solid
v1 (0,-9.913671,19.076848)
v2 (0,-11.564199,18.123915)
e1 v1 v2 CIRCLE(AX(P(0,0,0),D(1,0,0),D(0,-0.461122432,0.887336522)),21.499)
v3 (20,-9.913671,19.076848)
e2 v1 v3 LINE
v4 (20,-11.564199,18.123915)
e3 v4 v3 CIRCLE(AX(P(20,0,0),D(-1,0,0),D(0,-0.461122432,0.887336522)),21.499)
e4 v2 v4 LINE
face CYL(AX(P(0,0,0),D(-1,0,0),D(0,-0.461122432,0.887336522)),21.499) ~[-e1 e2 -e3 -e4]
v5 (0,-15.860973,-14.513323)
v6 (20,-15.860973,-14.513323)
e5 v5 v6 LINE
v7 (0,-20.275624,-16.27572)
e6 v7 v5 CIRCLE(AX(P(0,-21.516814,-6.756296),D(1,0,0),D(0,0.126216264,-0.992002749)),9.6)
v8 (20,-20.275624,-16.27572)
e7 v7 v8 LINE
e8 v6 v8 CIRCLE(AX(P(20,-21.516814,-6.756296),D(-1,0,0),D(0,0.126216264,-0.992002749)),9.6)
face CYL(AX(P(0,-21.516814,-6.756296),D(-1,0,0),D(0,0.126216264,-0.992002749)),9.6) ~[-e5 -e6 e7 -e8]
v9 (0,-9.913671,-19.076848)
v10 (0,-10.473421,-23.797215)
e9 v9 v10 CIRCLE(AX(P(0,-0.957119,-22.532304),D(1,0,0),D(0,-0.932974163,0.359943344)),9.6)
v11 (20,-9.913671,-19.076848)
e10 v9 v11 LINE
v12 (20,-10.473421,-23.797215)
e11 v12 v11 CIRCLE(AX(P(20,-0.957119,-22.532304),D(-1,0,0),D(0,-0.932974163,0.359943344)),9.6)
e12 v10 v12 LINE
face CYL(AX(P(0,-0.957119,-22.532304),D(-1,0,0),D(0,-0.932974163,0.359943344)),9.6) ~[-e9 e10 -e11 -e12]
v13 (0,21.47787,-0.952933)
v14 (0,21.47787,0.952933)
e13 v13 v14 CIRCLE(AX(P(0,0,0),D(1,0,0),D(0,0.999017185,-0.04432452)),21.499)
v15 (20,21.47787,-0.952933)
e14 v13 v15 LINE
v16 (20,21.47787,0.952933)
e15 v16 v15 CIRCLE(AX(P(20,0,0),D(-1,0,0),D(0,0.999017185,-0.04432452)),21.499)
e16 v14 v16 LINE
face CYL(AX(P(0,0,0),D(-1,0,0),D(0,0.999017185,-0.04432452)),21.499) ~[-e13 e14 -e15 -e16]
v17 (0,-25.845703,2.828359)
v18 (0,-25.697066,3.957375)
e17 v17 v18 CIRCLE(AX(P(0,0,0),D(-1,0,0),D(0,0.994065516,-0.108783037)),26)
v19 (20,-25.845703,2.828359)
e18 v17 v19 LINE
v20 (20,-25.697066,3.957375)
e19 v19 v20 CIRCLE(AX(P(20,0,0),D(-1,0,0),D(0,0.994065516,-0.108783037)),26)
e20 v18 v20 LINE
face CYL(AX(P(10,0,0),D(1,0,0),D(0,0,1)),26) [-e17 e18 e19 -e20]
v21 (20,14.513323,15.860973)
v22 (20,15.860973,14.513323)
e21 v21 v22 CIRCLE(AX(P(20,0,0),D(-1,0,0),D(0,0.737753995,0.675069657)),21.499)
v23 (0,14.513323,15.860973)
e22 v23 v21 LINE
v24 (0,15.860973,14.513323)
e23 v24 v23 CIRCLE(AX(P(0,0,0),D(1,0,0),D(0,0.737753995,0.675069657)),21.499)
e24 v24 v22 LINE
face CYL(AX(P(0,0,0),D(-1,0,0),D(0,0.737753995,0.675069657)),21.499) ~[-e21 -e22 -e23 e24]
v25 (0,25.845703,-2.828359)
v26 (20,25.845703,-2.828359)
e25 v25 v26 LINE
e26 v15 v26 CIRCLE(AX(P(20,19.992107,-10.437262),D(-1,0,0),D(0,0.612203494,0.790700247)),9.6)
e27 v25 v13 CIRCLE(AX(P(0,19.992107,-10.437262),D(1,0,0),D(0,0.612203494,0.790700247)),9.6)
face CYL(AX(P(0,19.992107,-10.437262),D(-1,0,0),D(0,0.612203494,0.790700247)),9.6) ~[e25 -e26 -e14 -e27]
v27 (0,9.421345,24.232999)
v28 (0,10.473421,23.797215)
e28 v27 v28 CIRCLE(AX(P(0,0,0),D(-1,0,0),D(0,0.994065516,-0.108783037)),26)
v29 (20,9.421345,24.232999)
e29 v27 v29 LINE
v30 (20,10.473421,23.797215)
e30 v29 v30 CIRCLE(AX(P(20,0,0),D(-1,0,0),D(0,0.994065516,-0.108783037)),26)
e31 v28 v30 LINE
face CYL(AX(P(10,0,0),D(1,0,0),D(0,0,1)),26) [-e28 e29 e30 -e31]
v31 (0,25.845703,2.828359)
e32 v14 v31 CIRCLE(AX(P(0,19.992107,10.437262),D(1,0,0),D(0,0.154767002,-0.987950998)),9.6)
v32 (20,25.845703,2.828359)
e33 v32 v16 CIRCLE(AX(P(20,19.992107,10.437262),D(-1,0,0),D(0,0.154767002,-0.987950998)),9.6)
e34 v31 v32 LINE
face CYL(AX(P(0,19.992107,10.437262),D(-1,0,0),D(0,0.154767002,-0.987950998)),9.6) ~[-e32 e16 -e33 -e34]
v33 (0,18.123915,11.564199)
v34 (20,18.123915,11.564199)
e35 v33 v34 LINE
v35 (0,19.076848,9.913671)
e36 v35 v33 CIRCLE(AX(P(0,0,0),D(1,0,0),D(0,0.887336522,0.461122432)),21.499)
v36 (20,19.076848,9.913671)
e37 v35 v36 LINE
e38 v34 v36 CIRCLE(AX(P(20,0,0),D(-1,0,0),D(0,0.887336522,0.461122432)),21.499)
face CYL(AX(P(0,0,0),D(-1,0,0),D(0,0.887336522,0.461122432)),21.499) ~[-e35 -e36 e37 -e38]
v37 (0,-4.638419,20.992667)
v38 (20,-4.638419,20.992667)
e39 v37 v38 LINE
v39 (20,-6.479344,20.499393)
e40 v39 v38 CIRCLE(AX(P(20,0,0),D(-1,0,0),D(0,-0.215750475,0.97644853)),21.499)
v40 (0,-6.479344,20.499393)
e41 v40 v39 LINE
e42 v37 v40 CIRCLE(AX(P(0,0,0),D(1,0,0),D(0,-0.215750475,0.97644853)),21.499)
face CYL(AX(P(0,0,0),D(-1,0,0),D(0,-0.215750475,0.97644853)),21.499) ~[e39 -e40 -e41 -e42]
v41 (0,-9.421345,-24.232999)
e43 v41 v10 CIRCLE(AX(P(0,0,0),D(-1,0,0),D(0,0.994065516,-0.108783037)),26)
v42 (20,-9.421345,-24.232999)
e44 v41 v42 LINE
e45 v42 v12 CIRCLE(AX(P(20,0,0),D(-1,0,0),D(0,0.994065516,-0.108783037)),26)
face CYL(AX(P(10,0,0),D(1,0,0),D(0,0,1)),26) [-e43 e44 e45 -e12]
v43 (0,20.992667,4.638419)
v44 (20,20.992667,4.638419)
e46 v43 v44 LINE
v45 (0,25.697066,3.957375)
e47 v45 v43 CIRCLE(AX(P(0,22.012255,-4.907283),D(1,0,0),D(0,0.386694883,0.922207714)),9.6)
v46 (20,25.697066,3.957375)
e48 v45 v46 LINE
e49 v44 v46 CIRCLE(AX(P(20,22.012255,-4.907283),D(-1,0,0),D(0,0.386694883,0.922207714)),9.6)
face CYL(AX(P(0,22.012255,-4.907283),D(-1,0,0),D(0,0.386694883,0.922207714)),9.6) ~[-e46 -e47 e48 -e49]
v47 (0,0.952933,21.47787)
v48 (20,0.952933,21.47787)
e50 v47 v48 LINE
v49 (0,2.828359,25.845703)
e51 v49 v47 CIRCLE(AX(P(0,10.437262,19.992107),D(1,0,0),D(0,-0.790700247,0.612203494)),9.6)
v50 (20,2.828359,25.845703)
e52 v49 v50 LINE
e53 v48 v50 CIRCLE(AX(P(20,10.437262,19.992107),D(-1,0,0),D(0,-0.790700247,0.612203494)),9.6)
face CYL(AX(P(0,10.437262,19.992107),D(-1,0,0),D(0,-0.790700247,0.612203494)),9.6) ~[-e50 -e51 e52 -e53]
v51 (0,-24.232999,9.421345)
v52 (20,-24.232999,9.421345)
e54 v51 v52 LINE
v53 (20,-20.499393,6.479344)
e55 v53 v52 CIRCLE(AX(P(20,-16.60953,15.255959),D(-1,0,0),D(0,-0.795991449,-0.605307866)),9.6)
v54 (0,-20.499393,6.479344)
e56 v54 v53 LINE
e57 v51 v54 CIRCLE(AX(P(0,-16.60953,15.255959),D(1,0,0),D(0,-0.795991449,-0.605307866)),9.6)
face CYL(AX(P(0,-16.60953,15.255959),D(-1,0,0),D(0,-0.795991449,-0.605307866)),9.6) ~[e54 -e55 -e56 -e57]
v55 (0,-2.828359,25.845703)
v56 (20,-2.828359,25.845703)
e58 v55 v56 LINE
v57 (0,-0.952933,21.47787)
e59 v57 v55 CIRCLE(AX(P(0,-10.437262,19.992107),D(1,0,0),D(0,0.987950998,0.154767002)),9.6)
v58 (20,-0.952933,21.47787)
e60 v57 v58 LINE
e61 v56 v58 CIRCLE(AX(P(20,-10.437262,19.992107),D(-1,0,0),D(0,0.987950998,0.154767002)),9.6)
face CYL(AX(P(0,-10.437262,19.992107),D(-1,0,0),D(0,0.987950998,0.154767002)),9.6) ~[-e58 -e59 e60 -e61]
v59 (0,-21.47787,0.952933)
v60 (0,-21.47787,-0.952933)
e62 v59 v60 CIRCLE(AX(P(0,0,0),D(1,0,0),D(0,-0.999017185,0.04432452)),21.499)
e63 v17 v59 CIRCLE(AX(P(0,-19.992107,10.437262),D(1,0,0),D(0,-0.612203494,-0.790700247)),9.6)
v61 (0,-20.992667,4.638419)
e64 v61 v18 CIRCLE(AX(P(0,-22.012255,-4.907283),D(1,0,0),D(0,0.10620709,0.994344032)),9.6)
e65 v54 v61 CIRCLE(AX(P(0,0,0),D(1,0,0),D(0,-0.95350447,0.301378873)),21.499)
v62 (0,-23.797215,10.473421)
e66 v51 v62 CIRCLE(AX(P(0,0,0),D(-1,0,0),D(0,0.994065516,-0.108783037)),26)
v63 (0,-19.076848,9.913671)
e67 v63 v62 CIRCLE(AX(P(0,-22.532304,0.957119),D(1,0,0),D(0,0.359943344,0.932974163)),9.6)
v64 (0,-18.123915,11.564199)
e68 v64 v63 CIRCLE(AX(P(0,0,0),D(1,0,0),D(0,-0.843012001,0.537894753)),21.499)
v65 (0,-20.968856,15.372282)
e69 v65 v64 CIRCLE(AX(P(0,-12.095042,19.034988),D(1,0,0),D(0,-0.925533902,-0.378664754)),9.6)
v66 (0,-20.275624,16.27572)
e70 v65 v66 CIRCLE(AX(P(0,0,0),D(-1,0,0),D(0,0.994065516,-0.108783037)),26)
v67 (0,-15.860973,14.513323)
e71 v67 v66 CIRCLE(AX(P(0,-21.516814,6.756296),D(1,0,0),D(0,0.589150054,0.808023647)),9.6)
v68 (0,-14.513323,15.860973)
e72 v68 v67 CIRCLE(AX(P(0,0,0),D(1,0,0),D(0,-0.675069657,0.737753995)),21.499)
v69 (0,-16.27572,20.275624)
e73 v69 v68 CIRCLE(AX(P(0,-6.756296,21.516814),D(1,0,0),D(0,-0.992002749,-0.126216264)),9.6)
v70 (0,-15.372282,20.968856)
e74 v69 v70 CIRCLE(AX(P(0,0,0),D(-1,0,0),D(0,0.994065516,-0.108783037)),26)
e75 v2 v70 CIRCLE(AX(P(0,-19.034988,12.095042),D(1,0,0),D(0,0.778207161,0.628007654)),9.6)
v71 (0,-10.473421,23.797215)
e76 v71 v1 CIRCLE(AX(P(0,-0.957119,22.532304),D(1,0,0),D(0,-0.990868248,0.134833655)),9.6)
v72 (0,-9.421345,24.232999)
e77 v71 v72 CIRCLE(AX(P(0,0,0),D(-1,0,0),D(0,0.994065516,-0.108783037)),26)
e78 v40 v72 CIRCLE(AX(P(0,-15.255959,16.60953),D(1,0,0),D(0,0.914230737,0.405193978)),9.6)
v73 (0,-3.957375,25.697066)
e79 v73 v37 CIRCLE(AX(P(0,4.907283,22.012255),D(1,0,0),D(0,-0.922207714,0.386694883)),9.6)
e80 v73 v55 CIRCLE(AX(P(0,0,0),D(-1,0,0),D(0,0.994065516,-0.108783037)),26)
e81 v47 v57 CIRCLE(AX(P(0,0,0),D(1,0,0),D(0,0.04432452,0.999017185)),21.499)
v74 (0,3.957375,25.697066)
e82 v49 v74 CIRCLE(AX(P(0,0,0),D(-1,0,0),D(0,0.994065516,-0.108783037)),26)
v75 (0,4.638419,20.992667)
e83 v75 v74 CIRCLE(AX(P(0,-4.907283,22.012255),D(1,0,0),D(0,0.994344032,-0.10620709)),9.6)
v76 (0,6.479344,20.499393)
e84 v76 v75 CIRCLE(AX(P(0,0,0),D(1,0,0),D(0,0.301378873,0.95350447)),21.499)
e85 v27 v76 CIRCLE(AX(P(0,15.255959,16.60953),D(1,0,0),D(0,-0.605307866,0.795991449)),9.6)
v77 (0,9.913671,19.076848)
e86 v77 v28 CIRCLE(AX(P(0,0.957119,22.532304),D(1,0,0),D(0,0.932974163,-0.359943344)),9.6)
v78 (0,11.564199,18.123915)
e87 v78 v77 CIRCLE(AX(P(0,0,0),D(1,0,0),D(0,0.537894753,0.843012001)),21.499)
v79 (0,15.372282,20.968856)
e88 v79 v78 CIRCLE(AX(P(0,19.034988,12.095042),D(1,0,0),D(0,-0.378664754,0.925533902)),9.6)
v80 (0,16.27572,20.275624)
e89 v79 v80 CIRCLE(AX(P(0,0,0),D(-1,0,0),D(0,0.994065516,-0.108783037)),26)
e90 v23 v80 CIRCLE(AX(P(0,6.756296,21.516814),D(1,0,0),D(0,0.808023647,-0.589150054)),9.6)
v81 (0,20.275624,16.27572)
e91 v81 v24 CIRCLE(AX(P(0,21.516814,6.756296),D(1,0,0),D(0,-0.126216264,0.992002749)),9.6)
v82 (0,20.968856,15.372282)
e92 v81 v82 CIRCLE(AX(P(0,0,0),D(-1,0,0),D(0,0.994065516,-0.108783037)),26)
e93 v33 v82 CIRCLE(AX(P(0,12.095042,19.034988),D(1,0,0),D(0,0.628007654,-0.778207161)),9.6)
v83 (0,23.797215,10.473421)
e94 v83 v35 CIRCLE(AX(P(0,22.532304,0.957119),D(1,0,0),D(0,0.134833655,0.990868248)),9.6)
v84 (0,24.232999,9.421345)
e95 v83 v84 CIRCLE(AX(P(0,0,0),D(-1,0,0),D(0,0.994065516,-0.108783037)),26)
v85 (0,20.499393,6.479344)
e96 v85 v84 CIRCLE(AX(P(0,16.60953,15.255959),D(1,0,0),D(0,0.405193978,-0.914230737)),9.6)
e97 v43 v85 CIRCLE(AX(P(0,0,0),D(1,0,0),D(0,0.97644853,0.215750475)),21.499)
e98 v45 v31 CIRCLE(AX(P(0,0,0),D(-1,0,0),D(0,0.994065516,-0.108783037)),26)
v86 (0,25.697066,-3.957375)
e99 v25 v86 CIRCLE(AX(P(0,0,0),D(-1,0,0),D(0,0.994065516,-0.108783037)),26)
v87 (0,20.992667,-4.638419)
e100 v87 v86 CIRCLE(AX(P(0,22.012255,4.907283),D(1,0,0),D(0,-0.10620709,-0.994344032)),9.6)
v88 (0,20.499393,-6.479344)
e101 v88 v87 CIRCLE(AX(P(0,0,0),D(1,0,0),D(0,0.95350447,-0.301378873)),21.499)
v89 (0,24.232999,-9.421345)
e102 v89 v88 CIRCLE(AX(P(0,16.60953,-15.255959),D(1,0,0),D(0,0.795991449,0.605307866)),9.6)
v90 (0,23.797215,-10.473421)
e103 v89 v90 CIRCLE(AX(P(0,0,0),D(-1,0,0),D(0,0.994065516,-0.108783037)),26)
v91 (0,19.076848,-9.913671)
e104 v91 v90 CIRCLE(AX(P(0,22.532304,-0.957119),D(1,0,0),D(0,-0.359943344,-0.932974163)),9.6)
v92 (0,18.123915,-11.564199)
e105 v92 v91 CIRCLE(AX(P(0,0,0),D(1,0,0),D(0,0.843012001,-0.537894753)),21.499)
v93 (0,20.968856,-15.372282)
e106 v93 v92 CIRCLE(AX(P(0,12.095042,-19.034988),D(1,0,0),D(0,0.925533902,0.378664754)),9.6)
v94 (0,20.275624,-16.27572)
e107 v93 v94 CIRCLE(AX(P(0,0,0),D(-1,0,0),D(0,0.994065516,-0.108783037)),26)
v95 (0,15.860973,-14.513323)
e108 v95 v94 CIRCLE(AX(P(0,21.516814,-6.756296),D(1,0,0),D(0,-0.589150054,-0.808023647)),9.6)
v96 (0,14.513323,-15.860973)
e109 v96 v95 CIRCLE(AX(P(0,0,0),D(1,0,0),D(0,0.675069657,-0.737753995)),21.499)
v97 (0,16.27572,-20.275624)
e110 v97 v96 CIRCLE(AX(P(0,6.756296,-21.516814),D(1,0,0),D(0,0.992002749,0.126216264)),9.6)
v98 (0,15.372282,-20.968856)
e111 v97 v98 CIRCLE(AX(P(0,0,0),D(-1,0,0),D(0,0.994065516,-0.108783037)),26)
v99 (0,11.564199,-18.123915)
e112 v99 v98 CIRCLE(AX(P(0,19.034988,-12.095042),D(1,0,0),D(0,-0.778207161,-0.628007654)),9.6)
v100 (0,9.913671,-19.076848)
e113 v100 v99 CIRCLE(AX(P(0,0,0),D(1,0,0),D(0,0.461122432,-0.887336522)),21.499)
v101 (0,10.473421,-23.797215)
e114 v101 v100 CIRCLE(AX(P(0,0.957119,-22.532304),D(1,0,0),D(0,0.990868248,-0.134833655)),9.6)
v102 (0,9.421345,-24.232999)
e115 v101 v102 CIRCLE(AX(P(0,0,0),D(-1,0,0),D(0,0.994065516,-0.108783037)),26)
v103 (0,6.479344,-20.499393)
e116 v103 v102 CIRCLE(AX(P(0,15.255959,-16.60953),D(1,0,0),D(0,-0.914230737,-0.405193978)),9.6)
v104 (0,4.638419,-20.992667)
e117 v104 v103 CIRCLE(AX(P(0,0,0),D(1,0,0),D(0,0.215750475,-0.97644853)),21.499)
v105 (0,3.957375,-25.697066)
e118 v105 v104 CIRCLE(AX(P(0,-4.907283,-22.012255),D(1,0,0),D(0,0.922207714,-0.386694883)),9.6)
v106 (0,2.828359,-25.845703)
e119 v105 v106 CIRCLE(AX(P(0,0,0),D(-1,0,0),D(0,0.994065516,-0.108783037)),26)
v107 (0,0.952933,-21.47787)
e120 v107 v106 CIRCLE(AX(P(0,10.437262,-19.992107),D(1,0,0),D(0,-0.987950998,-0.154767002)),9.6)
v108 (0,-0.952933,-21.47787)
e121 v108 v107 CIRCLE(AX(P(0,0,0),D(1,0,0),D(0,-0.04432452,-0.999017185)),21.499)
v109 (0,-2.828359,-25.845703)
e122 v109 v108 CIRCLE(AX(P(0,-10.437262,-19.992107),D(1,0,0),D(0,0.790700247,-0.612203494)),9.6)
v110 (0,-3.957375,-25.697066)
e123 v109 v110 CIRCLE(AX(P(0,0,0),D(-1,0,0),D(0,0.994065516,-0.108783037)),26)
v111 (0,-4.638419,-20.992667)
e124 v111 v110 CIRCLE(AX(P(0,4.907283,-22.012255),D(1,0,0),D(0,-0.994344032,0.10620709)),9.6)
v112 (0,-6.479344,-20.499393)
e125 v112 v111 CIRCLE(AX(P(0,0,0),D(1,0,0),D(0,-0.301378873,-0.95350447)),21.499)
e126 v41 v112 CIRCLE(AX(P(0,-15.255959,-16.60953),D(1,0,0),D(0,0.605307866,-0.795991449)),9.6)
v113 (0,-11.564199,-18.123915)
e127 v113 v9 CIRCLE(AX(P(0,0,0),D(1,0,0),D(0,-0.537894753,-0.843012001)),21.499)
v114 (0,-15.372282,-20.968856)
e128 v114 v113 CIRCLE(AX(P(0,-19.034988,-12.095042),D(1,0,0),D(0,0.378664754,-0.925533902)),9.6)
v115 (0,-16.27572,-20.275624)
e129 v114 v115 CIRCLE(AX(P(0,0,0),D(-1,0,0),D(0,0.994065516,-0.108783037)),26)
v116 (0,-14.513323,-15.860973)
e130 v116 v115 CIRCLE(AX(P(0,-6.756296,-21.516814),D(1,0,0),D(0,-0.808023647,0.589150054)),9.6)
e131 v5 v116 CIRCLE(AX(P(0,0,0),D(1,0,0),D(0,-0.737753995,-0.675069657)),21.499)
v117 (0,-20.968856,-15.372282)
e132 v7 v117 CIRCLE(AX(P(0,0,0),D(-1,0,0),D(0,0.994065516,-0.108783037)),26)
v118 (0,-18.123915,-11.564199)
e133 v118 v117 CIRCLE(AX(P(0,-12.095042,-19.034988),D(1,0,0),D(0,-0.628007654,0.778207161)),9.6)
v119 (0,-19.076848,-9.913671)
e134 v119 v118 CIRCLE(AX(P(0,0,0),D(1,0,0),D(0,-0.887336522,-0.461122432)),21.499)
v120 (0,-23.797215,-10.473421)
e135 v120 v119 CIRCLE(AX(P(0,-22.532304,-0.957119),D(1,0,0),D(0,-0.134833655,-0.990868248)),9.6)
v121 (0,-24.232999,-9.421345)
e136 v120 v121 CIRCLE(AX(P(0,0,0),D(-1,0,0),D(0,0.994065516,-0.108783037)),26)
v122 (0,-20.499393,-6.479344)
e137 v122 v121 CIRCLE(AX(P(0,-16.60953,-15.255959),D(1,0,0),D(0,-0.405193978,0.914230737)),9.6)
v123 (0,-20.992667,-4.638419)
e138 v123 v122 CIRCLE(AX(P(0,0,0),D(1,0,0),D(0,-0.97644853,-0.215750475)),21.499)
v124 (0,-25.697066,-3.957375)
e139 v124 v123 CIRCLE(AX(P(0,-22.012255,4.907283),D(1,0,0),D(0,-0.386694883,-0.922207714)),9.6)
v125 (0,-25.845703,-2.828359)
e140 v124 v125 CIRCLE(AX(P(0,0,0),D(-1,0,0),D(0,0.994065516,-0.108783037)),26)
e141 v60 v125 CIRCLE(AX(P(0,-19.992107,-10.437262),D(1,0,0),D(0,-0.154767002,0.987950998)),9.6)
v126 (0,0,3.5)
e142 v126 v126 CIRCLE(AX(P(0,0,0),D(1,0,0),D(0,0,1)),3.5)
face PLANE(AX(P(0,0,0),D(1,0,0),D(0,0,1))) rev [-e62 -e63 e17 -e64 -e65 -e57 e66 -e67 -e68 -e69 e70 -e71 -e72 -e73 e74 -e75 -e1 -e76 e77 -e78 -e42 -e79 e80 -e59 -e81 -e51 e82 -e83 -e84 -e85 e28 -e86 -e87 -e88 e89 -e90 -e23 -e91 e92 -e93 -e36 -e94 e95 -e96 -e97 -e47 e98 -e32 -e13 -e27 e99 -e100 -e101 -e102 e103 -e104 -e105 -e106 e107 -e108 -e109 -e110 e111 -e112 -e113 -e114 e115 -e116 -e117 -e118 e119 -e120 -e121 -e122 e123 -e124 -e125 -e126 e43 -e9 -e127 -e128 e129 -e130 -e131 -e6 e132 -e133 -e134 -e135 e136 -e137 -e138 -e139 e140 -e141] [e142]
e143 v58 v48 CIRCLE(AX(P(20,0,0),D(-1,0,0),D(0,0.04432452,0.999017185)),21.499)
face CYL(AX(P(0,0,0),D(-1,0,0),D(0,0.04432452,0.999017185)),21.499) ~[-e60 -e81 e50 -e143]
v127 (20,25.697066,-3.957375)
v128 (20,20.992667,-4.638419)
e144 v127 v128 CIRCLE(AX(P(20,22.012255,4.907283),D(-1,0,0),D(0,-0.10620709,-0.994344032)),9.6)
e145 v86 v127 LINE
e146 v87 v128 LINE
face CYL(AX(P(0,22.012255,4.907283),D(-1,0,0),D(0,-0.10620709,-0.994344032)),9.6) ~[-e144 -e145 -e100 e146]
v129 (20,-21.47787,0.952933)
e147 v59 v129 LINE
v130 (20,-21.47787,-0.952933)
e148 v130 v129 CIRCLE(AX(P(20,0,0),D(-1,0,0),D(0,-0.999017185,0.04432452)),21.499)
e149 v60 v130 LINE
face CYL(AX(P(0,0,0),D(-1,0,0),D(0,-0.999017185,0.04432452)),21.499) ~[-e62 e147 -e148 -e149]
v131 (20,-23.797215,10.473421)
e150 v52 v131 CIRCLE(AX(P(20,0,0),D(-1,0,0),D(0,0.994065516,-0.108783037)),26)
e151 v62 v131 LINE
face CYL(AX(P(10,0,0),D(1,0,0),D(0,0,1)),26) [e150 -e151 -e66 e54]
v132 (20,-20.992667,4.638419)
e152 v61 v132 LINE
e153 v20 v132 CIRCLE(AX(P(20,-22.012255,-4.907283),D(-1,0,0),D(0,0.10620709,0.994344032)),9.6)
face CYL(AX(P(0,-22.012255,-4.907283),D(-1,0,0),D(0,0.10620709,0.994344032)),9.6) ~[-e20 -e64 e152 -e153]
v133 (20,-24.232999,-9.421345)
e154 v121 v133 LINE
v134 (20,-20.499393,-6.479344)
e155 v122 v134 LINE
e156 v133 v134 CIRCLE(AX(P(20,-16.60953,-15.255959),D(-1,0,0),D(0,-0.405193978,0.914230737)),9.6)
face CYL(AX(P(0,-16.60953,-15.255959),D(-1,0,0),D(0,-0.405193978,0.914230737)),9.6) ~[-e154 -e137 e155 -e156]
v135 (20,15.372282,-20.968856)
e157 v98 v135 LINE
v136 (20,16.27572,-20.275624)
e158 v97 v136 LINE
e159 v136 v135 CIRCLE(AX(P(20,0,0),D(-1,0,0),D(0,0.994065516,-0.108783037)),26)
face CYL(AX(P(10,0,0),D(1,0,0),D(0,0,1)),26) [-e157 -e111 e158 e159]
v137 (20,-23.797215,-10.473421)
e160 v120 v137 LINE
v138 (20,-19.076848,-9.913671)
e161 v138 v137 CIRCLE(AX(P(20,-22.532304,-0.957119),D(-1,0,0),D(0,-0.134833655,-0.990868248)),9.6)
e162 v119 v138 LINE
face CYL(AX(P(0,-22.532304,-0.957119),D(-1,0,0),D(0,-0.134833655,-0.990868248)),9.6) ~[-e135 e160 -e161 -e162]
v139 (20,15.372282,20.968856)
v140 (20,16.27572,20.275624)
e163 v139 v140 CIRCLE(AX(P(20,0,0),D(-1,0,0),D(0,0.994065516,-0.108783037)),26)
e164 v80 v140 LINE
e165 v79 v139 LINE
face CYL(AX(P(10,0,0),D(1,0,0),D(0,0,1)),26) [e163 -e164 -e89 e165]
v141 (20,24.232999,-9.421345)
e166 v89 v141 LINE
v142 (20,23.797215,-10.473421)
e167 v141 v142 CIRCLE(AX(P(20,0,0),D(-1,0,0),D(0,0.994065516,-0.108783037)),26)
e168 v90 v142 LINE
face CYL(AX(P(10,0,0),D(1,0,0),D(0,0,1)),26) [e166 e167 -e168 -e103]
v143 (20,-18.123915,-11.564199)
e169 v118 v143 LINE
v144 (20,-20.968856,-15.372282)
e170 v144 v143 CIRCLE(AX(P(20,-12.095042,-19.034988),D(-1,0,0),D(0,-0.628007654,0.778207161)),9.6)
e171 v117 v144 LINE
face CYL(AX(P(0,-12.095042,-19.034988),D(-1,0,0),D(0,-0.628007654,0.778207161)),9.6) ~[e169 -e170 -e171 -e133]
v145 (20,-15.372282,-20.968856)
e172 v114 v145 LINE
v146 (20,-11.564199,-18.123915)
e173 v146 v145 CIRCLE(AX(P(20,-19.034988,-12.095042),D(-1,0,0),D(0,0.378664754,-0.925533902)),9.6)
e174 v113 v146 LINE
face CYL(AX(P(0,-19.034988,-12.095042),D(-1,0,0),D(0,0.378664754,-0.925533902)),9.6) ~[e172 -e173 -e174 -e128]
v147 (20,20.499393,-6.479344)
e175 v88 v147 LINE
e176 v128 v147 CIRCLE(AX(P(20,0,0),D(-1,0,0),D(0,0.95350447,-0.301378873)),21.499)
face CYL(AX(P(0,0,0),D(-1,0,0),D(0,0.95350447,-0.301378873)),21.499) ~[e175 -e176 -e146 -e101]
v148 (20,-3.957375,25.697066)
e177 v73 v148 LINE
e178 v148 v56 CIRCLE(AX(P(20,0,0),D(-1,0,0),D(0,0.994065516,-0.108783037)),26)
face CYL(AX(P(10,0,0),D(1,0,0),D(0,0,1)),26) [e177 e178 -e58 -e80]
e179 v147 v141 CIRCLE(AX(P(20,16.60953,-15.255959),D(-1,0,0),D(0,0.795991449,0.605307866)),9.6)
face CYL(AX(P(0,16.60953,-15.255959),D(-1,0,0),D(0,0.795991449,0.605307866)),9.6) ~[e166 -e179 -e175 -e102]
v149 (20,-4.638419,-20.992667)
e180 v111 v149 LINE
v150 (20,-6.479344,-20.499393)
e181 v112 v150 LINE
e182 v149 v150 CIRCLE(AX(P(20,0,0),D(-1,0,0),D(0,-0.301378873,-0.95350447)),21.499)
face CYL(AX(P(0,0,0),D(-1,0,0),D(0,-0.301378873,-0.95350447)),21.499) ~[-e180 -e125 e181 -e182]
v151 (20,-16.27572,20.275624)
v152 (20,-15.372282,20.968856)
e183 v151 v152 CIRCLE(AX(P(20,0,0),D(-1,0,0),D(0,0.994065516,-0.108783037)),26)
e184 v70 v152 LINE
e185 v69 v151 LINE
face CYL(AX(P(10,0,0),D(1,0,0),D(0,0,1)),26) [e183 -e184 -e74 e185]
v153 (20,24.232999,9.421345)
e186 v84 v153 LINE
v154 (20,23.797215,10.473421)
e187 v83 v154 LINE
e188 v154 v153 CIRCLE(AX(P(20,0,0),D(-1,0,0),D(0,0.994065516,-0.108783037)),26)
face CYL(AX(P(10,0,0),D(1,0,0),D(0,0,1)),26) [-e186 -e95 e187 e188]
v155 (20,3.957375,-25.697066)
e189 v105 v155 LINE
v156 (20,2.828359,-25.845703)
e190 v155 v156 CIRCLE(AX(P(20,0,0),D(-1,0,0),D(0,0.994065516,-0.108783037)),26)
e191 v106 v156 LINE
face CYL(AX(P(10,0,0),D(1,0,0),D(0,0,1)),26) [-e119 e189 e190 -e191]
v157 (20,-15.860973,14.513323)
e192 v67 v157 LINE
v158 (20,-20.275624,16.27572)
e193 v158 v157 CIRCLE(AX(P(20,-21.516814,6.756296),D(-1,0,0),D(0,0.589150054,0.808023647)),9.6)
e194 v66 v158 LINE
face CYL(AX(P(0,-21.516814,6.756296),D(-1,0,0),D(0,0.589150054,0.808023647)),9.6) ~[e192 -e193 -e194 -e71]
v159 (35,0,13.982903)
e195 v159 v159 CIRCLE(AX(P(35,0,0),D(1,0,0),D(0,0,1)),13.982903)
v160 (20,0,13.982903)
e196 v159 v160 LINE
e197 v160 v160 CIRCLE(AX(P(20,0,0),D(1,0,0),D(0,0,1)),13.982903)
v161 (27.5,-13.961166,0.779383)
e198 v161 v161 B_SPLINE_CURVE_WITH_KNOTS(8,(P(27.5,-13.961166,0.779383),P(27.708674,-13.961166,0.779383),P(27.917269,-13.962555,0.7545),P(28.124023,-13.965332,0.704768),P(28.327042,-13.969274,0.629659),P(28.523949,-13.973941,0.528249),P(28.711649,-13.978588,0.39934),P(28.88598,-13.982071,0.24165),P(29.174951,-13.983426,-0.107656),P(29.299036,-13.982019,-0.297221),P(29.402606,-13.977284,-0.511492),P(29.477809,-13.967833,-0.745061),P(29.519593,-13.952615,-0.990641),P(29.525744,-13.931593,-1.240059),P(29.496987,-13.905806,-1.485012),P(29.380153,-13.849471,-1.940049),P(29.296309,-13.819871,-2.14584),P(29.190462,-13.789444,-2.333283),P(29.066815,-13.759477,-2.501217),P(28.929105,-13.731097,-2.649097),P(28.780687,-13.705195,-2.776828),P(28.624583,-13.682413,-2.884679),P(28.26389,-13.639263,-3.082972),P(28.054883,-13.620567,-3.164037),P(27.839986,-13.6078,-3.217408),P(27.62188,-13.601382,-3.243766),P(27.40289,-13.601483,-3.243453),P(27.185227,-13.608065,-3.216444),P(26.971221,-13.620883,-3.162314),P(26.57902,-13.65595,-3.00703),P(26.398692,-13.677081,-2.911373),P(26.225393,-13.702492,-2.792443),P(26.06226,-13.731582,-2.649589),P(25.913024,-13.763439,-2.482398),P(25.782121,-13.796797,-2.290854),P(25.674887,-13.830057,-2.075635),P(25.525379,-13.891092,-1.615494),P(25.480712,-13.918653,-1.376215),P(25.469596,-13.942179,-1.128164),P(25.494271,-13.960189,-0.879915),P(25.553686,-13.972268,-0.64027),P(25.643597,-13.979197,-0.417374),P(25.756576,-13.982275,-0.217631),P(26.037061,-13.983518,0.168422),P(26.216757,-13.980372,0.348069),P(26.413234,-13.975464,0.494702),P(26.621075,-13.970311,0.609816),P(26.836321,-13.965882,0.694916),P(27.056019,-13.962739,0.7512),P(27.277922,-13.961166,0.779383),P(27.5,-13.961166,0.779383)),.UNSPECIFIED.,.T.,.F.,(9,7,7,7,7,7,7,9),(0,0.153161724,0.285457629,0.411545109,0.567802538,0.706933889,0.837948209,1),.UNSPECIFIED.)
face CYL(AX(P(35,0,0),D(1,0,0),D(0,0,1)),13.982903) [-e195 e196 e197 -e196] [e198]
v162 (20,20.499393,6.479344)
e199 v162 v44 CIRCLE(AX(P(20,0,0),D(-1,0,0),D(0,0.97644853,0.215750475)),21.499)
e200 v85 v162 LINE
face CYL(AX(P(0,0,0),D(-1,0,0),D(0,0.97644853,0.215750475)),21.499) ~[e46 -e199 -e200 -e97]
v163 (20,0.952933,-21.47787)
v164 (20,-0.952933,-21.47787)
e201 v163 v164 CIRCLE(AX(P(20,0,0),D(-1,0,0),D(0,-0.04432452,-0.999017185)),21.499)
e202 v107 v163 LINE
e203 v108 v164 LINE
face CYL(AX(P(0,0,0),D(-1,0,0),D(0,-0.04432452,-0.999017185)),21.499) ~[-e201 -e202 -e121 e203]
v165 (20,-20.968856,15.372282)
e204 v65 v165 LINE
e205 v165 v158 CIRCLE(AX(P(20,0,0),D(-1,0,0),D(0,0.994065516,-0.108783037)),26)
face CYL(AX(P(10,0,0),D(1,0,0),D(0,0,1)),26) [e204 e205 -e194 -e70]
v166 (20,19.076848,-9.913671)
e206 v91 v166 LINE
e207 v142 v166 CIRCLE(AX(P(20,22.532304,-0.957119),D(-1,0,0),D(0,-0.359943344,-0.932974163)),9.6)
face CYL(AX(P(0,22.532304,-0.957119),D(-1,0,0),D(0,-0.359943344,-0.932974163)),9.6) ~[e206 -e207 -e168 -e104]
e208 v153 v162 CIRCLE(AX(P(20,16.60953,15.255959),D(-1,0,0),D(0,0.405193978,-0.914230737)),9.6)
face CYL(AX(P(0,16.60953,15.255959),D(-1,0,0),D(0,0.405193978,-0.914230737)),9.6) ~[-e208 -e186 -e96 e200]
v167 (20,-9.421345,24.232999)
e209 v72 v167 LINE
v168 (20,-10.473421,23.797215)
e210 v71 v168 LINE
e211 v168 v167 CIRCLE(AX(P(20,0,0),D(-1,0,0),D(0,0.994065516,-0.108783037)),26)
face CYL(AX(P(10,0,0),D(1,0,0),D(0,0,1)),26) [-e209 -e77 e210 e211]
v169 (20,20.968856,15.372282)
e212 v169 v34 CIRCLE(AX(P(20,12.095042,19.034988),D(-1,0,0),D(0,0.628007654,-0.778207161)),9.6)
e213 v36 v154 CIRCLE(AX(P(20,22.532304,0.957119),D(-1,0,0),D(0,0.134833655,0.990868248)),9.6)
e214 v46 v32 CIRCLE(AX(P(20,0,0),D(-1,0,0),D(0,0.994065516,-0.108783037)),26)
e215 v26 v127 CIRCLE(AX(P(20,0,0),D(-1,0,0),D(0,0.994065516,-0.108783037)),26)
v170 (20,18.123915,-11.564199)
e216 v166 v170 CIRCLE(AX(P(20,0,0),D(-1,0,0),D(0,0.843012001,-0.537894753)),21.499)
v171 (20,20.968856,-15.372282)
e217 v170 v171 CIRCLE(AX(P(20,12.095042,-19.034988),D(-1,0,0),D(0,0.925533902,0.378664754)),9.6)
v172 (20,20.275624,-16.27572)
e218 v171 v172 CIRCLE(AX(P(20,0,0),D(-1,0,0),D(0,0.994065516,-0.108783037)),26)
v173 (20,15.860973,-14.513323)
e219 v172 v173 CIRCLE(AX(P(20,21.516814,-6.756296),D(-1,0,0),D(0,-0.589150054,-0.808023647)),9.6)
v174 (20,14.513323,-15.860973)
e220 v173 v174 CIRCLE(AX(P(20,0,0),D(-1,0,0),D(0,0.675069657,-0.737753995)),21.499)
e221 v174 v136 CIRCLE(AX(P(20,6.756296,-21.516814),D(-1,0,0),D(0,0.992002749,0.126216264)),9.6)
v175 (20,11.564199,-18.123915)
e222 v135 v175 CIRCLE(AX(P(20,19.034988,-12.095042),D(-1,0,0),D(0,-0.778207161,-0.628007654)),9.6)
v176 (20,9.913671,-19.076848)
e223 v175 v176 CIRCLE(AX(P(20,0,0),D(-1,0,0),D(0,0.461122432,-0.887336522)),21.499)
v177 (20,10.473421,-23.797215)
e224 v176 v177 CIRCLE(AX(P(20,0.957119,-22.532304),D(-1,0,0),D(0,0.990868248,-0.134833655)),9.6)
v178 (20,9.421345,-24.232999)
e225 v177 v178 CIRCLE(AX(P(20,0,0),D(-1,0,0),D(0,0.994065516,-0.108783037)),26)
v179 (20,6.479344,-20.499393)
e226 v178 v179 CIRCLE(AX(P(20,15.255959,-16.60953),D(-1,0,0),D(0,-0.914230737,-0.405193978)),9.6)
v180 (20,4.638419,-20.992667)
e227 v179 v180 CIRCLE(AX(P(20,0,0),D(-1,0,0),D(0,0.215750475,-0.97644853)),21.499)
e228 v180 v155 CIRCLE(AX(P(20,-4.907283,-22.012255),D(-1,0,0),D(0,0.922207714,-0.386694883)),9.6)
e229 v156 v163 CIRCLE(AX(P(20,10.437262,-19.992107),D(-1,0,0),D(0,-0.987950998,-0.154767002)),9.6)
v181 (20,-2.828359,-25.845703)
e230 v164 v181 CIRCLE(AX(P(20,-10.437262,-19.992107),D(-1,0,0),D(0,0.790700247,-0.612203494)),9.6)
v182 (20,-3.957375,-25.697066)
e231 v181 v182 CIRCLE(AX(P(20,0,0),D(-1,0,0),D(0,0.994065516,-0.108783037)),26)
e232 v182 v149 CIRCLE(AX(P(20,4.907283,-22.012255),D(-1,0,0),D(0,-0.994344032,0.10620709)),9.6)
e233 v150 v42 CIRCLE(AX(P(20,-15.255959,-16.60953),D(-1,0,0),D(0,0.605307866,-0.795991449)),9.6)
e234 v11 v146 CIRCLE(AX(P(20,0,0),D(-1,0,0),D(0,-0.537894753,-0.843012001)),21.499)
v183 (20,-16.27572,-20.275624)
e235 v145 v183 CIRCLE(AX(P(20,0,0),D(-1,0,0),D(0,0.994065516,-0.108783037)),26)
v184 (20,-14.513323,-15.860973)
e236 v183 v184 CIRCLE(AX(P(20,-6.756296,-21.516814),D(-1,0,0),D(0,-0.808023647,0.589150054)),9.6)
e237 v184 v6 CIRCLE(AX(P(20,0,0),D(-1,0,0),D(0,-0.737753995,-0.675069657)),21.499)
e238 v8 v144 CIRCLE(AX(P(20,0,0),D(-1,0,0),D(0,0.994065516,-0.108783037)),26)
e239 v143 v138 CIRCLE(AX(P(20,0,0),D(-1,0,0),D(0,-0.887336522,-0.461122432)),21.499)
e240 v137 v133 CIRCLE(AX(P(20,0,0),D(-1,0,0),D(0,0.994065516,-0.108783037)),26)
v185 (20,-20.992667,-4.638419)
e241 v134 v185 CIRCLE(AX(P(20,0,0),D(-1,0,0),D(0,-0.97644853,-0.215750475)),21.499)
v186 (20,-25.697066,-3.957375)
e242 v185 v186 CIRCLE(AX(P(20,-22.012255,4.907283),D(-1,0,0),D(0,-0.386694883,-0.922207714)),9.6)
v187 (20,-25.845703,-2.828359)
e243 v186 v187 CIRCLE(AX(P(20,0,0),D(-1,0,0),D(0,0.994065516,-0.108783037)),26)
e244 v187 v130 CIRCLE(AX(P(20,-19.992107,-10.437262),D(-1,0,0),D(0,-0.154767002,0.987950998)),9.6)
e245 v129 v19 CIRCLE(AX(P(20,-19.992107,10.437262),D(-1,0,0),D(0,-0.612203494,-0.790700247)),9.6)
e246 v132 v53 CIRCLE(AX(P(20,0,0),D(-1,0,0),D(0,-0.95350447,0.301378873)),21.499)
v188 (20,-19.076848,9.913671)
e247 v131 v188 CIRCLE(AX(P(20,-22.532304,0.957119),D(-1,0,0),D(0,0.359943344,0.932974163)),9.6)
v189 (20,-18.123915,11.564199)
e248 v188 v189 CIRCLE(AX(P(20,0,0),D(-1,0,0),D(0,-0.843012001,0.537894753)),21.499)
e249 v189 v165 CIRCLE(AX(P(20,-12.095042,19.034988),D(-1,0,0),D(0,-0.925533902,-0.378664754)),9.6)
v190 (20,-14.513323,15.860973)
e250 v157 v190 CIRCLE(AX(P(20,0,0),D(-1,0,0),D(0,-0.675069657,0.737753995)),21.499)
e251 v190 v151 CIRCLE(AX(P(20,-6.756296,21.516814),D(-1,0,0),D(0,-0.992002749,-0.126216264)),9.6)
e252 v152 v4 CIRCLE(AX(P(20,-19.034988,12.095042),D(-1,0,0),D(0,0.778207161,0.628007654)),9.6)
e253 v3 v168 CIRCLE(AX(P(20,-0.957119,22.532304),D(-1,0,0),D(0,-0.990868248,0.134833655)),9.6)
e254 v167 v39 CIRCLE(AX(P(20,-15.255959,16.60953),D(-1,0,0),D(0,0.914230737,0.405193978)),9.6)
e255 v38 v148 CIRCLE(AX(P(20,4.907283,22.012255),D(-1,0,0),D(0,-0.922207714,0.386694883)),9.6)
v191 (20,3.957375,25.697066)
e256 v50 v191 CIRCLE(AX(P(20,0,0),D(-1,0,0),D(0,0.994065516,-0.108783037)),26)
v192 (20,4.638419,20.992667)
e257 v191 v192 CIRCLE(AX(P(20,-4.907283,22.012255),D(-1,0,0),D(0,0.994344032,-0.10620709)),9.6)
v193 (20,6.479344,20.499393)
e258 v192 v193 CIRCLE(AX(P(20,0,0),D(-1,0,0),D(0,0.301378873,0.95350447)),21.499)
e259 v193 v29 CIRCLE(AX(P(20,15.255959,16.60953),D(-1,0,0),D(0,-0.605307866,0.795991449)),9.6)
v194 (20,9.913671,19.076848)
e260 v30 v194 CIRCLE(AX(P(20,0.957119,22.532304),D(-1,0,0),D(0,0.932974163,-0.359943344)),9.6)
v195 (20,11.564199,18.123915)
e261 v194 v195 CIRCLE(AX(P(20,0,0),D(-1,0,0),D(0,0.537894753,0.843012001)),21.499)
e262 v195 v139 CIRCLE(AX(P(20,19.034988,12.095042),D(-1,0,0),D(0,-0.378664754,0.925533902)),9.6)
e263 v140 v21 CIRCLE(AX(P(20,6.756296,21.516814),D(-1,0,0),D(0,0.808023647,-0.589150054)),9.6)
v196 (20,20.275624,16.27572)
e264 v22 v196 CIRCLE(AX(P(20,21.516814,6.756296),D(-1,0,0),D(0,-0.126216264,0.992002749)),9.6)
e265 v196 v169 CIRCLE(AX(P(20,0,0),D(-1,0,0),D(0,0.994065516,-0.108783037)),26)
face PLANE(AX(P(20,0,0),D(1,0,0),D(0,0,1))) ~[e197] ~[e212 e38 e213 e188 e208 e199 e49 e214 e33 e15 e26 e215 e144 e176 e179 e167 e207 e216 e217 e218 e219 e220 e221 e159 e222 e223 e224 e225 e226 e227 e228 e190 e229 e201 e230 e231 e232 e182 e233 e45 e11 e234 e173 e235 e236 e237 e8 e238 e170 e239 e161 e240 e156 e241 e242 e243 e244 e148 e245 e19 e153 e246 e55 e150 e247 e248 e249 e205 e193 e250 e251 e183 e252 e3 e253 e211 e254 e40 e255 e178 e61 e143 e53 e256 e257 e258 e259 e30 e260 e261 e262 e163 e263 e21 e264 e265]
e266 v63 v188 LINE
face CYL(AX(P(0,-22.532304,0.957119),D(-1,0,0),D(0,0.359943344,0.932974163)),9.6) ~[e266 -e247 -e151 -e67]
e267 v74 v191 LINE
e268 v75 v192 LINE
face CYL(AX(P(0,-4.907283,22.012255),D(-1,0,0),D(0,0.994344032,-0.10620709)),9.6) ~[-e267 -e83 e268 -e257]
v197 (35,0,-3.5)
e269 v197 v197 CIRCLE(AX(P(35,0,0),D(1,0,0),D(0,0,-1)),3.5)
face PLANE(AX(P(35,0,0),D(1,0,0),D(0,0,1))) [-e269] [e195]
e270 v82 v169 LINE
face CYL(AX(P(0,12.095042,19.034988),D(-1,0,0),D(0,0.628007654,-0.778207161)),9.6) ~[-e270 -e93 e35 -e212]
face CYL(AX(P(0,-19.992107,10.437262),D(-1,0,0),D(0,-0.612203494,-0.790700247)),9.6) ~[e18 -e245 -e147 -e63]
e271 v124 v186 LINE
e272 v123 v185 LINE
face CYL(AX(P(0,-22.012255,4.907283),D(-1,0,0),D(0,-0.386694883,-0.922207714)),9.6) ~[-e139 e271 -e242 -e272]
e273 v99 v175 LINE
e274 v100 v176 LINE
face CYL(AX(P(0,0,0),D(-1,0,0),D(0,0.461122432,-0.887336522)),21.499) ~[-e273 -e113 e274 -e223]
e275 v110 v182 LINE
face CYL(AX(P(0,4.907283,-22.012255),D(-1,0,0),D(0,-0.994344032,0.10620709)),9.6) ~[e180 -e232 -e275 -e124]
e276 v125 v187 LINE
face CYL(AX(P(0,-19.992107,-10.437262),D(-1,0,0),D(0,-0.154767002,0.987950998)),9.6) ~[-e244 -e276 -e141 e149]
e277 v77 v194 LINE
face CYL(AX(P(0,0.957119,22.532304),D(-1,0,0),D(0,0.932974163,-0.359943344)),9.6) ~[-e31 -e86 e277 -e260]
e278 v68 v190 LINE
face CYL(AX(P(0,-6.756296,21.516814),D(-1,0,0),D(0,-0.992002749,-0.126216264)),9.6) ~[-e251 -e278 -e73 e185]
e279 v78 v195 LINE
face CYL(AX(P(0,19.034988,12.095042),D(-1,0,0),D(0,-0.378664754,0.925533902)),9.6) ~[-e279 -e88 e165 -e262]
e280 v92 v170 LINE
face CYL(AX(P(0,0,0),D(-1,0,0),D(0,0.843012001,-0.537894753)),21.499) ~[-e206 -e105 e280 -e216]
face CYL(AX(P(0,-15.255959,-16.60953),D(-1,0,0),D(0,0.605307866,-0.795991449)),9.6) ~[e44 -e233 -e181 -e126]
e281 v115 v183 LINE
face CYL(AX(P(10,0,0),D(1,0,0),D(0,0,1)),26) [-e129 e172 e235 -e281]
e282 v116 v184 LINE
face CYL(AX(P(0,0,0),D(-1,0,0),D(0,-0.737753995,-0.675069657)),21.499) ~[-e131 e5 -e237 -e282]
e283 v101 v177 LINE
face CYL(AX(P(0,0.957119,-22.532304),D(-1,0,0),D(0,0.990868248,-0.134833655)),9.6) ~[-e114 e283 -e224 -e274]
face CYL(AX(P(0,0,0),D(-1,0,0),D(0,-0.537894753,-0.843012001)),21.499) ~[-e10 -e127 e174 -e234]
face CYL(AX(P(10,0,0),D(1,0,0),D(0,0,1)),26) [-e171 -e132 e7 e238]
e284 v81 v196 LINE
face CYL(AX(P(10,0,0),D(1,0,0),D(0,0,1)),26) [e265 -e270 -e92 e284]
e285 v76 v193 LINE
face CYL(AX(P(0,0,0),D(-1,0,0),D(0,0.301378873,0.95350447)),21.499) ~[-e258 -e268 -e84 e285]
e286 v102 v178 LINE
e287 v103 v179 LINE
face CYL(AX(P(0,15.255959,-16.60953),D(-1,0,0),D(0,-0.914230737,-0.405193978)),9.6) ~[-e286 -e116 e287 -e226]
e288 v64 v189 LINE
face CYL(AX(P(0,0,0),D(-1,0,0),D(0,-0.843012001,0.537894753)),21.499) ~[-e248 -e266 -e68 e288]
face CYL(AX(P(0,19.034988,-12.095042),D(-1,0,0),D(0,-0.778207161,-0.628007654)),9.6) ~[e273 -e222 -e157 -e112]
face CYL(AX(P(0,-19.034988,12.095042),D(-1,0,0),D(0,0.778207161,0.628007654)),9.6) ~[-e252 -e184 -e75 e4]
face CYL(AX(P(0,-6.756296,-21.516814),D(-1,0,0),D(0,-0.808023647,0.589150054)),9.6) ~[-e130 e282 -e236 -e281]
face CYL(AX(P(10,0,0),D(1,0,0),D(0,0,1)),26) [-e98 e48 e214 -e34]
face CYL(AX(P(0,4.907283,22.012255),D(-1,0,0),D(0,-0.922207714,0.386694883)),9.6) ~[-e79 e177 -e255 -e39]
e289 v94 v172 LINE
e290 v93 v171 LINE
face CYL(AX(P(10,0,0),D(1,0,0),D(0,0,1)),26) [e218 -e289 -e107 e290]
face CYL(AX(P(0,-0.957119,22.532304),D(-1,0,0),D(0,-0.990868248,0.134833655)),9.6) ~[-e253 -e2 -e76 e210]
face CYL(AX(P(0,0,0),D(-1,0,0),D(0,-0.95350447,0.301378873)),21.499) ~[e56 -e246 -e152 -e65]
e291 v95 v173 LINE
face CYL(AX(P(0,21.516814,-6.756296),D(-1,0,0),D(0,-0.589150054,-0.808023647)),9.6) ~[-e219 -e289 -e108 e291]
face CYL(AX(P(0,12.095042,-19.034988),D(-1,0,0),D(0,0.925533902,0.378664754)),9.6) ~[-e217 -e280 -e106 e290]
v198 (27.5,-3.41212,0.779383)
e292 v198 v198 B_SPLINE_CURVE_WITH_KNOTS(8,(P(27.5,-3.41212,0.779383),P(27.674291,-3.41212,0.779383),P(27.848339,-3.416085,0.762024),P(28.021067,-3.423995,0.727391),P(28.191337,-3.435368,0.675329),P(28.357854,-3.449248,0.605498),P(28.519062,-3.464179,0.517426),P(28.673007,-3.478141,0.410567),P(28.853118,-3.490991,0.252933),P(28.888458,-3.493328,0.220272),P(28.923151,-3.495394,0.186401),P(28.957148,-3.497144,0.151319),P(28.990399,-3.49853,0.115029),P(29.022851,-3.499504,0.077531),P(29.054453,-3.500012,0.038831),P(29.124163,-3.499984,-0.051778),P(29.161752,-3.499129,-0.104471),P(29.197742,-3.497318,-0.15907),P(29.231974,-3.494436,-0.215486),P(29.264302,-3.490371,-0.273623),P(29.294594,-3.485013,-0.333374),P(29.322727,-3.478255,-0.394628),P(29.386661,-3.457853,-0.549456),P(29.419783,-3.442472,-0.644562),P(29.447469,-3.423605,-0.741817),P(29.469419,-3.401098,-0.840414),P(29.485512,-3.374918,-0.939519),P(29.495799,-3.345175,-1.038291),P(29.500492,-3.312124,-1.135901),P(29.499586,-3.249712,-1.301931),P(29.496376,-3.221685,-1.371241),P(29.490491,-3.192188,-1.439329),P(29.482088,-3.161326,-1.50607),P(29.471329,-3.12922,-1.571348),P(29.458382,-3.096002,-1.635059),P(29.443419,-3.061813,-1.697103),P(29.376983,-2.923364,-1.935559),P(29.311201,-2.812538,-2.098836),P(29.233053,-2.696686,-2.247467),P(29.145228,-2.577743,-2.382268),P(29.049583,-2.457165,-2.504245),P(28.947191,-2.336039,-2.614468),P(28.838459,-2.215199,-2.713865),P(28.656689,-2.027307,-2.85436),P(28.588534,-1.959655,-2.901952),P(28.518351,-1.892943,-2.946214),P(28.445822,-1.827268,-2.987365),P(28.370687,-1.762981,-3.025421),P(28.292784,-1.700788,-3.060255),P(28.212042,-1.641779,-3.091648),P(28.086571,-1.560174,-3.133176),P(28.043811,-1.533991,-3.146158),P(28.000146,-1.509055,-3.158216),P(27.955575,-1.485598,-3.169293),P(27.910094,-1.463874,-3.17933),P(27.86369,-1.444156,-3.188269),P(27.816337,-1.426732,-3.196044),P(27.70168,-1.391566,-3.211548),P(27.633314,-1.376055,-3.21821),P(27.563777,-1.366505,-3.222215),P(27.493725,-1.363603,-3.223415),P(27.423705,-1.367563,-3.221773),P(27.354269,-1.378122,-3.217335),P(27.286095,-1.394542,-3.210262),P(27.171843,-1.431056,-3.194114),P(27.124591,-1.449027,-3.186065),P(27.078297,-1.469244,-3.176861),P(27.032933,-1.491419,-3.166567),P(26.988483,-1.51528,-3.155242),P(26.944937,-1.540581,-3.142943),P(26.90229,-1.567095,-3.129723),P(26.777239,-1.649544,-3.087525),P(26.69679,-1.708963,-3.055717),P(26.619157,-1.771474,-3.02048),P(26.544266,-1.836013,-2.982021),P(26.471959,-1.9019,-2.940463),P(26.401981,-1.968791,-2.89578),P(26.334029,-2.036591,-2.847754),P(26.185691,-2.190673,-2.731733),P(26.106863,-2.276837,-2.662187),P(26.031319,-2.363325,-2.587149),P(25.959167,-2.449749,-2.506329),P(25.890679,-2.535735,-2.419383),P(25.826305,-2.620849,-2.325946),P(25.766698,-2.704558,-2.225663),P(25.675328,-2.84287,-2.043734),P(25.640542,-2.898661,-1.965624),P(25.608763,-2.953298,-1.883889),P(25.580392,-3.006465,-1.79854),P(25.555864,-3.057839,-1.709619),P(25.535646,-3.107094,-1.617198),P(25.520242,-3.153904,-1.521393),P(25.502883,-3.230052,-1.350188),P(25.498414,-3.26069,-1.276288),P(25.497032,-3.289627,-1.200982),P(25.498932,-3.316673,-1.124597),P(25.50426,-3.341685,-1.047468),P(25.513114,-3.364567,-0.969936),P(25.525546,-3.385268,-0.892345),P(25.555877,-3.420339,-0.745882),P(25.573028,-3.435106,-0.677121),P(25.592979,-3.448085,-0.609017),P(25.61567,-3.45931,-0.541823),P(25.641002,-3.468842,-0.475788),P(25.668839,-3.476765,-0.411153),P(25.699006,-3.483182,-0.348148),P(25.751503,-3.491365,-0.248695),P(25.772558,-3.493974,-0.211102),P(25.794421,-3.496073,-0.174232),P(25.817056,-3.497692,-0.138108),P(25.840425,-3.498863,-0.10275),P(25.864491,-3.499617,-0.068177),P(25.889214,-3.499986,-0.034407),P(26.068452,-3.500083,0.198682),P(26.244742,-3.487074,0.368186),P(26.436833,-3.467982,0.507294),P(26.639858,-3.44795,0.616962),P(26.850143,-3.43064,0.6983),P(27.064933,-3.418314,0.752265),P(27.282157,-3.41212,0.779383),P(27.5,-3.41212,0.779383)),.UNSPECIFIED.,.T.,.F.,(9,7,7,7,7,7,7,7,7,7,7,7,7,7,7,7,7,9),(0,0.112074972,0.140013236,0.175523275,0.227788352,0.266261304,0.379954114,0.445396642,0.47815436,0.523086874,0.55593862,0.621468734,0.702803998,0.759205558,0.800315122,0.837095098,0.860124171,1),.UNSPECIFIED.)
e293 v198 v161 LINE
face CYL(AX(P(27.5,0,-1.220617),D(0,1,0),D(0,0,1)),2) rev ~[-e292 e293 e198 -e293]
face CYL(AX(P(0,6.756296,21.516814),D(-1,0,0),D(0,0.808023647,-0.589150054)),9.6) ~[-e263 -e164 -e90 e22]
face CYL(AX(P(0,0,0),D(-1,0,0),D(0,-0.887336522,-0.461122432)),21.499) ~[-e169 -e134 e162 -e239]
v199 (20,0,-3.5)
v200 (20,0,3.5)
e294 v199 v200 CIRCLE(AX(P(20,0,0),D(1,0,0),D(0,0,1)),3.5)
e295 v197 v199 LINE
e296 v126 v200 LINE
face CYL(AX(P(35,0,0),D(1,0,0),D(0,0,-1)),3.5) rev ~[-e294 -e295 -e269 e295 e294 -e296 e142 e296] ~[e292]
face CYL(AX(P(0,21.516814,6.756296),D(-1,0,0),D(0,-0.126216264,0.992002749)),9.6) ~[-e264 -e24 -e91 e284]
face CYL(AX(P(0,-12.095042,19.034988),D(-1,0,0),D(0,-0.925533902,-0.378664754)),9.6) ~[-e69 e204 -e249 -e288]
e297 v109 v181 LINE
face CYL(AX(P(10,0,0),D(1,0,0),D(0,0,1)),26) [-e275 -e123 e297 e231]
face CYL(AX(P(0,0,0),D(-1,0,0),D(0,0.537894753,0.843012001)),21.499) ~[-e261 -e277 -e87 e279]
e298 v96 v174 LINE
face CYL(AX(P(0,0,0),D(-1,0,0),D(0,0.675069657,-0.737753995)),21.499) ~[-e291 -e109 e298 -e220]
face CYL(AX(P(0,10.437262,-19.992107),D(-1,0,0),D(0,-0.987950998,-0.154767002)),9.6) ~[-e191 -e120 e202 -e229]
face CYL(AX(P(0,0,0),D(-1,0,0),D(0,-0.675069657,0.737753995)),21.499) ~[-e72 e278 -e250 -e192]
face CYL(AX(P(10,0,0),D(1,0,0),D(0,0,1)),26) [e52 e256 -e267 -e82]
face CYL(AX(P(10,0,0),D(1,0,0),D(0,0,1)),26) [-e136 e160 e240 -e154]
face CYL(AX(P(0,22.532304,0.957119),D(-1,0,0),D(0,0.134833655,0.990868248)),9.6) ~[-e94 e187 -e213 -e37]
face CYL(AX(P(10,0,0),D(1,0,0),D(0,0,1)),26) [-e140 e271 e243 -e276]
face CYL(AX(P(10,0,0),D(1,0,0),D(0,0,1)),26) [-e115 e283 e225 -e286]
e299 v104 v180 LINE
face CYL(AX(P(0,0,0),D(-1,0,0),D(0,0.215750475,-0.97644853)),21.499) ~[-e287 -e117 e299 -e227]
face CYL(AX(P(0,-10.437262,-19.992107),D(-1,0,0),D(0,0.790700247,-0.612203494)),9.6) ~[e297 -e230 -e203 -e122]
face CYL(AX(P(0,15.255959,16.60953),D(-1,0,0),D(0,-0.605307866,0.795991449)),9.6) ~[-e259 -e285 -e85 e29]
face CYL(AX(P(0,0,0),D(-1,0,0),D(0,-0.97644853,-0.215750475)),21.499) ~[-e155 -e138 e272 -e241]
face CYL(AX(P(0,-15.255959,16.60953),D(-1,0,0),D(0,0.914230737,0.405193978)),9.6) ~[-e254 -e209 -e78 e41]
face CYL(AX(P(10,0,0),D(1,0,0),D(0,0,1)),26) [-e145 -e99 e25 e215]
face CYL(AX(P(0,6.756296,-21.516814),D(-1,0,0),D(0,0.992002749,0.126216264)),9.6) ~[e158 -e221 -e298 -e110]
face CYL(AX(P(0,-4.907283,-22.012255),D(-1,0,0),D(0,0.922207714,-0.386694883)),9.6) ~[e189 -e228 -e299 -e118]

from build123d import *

# Parameters (mm, degrees)
BASPROSKE_W             = 20
BASPROSKE_H             = 26
TOOTHCUT_DEPTH          = 42.856899073
TEETHCUTS_COUNT         = 24
TEETHCUTS_ANGLE         = 345
BORSKE_R                = 3.5
BORE_DEPTH              = 50.0000508
BOSS_EXTRU_1_START      = 15
ESQUISSE2_R             = 13.982903341
ESQUISSE2_R_2           = 3.5
BOSS_EXTRU_1_DEPTH      = 15
ESQUISSE3_R             = 2
ENL_V_MAT_EXTRU_1_DEPTH = 15


with BuildPart() as part:
    # BasProSke → Base-Revolve (revolve)
    with BuildSketch(Plane(origin=(0, 0, 0), x_dir=(1, 0, 0), z_dir=(0, 1, 0)), mode=Mode.PRIVATE) as base_revolve_sk:
        with Locations((10, 13)):
            Rectangle(BASPROSKE_W, BASPROSKE_H)
    revolve(base_revolve_sk.sketch.rotate(Axis((-10, 0, 0), (1, 0, 0)), 180), axis=Axis((-10, 0, 0), (1, 0, 0)))

    # TooCutSke → ToothCut (cut, through all)
    with BuildSketch(Plane(origin=(0, 0, 0), x_dir=(0, 0, -1), z_dir=(1, 0, 0))):
        with BuildLine():
            ThreePointArc((0.952932849, 21.477870471), (0, 21.499), (-0.952932849, 21.477870471))
            ThreePointArc((-0.952932849, 21.477870471), (-1.621910648, 23.79336664), (-2.846540061, 25.86926081))
            ThreePointArc((-2.846540061, 25.86926081), (0, 26.0254), (2.846540061, 25.86926081))
            ThreePointArc((2.846540061, 25.86926081), (1.621910648, 23.79336664), (0.952932849, 21.477870471))
        make_face()
    toothcut = extrude(amount=TOOTHCUT_DEPTH, mode=Mode.SUBTRACT)

    # TeethCuts: ToothCut ×24 about axis
    teethcuts_axis = Axis((-10, 0, 0), (1, 0, 0))
    for i in range(1, TEETHCUTS_COUNT):
        add(toothcut.rotate(teethcuts_axis, i * TEETHCUTS_ANGLE / (TEETHCUTS_COUNT - 1)), mode=Mode.SUBTRACT)

    # BorSke → Bore (cut, symmetric)
    with BuildSketch(Plane(origin=(0, 0, 0), x_dir=(0, 0, -1), z_dir=(1, 0, 0))):
        with Locations(Location((0, 0, 0), (0, 0, 180))):
            Circle(BORSKE_R)
    extrude(amount=BORE_DEPTH, both=True, mode=Mode.SUBTRACT)

    # Esquisse2 → Boss.-Extru.1 (add)
    with BuildSketch(Plane(origin=(20, 0, 0), x_dir=(0, 0, -1), z_dir=(1, 0, 0)).offset(BOSS_EXTRU_1_START)):
        with Locations(Location((0, 0, 0), (0, 0, 180))):
            Circle(ESQUISSE2_R)
        Circle(ESQUISSE2_R_2, mode=Mode.SUBTRACT)
    extrude(amount=-BOSS_EXTRU_1_DEPTH)

    # Esquisse3 → Enlèv. mat.-Extru.1 (cut)
    with BuildSketch(Plane(origin=(0, 0, 0), x_dir=(1, 0, 0), z_dir=(0, 1, 0))):
        with Locations(Location((27.5, 1.220617441, 0), (0, 0, 270))):
            Circle(ESQUISSE3_R)
    extrude(amount=-ENL_V_MAT_EXTRU_1_DEPTH, mode=Mode.SUBTRACT)


solid = part.part
